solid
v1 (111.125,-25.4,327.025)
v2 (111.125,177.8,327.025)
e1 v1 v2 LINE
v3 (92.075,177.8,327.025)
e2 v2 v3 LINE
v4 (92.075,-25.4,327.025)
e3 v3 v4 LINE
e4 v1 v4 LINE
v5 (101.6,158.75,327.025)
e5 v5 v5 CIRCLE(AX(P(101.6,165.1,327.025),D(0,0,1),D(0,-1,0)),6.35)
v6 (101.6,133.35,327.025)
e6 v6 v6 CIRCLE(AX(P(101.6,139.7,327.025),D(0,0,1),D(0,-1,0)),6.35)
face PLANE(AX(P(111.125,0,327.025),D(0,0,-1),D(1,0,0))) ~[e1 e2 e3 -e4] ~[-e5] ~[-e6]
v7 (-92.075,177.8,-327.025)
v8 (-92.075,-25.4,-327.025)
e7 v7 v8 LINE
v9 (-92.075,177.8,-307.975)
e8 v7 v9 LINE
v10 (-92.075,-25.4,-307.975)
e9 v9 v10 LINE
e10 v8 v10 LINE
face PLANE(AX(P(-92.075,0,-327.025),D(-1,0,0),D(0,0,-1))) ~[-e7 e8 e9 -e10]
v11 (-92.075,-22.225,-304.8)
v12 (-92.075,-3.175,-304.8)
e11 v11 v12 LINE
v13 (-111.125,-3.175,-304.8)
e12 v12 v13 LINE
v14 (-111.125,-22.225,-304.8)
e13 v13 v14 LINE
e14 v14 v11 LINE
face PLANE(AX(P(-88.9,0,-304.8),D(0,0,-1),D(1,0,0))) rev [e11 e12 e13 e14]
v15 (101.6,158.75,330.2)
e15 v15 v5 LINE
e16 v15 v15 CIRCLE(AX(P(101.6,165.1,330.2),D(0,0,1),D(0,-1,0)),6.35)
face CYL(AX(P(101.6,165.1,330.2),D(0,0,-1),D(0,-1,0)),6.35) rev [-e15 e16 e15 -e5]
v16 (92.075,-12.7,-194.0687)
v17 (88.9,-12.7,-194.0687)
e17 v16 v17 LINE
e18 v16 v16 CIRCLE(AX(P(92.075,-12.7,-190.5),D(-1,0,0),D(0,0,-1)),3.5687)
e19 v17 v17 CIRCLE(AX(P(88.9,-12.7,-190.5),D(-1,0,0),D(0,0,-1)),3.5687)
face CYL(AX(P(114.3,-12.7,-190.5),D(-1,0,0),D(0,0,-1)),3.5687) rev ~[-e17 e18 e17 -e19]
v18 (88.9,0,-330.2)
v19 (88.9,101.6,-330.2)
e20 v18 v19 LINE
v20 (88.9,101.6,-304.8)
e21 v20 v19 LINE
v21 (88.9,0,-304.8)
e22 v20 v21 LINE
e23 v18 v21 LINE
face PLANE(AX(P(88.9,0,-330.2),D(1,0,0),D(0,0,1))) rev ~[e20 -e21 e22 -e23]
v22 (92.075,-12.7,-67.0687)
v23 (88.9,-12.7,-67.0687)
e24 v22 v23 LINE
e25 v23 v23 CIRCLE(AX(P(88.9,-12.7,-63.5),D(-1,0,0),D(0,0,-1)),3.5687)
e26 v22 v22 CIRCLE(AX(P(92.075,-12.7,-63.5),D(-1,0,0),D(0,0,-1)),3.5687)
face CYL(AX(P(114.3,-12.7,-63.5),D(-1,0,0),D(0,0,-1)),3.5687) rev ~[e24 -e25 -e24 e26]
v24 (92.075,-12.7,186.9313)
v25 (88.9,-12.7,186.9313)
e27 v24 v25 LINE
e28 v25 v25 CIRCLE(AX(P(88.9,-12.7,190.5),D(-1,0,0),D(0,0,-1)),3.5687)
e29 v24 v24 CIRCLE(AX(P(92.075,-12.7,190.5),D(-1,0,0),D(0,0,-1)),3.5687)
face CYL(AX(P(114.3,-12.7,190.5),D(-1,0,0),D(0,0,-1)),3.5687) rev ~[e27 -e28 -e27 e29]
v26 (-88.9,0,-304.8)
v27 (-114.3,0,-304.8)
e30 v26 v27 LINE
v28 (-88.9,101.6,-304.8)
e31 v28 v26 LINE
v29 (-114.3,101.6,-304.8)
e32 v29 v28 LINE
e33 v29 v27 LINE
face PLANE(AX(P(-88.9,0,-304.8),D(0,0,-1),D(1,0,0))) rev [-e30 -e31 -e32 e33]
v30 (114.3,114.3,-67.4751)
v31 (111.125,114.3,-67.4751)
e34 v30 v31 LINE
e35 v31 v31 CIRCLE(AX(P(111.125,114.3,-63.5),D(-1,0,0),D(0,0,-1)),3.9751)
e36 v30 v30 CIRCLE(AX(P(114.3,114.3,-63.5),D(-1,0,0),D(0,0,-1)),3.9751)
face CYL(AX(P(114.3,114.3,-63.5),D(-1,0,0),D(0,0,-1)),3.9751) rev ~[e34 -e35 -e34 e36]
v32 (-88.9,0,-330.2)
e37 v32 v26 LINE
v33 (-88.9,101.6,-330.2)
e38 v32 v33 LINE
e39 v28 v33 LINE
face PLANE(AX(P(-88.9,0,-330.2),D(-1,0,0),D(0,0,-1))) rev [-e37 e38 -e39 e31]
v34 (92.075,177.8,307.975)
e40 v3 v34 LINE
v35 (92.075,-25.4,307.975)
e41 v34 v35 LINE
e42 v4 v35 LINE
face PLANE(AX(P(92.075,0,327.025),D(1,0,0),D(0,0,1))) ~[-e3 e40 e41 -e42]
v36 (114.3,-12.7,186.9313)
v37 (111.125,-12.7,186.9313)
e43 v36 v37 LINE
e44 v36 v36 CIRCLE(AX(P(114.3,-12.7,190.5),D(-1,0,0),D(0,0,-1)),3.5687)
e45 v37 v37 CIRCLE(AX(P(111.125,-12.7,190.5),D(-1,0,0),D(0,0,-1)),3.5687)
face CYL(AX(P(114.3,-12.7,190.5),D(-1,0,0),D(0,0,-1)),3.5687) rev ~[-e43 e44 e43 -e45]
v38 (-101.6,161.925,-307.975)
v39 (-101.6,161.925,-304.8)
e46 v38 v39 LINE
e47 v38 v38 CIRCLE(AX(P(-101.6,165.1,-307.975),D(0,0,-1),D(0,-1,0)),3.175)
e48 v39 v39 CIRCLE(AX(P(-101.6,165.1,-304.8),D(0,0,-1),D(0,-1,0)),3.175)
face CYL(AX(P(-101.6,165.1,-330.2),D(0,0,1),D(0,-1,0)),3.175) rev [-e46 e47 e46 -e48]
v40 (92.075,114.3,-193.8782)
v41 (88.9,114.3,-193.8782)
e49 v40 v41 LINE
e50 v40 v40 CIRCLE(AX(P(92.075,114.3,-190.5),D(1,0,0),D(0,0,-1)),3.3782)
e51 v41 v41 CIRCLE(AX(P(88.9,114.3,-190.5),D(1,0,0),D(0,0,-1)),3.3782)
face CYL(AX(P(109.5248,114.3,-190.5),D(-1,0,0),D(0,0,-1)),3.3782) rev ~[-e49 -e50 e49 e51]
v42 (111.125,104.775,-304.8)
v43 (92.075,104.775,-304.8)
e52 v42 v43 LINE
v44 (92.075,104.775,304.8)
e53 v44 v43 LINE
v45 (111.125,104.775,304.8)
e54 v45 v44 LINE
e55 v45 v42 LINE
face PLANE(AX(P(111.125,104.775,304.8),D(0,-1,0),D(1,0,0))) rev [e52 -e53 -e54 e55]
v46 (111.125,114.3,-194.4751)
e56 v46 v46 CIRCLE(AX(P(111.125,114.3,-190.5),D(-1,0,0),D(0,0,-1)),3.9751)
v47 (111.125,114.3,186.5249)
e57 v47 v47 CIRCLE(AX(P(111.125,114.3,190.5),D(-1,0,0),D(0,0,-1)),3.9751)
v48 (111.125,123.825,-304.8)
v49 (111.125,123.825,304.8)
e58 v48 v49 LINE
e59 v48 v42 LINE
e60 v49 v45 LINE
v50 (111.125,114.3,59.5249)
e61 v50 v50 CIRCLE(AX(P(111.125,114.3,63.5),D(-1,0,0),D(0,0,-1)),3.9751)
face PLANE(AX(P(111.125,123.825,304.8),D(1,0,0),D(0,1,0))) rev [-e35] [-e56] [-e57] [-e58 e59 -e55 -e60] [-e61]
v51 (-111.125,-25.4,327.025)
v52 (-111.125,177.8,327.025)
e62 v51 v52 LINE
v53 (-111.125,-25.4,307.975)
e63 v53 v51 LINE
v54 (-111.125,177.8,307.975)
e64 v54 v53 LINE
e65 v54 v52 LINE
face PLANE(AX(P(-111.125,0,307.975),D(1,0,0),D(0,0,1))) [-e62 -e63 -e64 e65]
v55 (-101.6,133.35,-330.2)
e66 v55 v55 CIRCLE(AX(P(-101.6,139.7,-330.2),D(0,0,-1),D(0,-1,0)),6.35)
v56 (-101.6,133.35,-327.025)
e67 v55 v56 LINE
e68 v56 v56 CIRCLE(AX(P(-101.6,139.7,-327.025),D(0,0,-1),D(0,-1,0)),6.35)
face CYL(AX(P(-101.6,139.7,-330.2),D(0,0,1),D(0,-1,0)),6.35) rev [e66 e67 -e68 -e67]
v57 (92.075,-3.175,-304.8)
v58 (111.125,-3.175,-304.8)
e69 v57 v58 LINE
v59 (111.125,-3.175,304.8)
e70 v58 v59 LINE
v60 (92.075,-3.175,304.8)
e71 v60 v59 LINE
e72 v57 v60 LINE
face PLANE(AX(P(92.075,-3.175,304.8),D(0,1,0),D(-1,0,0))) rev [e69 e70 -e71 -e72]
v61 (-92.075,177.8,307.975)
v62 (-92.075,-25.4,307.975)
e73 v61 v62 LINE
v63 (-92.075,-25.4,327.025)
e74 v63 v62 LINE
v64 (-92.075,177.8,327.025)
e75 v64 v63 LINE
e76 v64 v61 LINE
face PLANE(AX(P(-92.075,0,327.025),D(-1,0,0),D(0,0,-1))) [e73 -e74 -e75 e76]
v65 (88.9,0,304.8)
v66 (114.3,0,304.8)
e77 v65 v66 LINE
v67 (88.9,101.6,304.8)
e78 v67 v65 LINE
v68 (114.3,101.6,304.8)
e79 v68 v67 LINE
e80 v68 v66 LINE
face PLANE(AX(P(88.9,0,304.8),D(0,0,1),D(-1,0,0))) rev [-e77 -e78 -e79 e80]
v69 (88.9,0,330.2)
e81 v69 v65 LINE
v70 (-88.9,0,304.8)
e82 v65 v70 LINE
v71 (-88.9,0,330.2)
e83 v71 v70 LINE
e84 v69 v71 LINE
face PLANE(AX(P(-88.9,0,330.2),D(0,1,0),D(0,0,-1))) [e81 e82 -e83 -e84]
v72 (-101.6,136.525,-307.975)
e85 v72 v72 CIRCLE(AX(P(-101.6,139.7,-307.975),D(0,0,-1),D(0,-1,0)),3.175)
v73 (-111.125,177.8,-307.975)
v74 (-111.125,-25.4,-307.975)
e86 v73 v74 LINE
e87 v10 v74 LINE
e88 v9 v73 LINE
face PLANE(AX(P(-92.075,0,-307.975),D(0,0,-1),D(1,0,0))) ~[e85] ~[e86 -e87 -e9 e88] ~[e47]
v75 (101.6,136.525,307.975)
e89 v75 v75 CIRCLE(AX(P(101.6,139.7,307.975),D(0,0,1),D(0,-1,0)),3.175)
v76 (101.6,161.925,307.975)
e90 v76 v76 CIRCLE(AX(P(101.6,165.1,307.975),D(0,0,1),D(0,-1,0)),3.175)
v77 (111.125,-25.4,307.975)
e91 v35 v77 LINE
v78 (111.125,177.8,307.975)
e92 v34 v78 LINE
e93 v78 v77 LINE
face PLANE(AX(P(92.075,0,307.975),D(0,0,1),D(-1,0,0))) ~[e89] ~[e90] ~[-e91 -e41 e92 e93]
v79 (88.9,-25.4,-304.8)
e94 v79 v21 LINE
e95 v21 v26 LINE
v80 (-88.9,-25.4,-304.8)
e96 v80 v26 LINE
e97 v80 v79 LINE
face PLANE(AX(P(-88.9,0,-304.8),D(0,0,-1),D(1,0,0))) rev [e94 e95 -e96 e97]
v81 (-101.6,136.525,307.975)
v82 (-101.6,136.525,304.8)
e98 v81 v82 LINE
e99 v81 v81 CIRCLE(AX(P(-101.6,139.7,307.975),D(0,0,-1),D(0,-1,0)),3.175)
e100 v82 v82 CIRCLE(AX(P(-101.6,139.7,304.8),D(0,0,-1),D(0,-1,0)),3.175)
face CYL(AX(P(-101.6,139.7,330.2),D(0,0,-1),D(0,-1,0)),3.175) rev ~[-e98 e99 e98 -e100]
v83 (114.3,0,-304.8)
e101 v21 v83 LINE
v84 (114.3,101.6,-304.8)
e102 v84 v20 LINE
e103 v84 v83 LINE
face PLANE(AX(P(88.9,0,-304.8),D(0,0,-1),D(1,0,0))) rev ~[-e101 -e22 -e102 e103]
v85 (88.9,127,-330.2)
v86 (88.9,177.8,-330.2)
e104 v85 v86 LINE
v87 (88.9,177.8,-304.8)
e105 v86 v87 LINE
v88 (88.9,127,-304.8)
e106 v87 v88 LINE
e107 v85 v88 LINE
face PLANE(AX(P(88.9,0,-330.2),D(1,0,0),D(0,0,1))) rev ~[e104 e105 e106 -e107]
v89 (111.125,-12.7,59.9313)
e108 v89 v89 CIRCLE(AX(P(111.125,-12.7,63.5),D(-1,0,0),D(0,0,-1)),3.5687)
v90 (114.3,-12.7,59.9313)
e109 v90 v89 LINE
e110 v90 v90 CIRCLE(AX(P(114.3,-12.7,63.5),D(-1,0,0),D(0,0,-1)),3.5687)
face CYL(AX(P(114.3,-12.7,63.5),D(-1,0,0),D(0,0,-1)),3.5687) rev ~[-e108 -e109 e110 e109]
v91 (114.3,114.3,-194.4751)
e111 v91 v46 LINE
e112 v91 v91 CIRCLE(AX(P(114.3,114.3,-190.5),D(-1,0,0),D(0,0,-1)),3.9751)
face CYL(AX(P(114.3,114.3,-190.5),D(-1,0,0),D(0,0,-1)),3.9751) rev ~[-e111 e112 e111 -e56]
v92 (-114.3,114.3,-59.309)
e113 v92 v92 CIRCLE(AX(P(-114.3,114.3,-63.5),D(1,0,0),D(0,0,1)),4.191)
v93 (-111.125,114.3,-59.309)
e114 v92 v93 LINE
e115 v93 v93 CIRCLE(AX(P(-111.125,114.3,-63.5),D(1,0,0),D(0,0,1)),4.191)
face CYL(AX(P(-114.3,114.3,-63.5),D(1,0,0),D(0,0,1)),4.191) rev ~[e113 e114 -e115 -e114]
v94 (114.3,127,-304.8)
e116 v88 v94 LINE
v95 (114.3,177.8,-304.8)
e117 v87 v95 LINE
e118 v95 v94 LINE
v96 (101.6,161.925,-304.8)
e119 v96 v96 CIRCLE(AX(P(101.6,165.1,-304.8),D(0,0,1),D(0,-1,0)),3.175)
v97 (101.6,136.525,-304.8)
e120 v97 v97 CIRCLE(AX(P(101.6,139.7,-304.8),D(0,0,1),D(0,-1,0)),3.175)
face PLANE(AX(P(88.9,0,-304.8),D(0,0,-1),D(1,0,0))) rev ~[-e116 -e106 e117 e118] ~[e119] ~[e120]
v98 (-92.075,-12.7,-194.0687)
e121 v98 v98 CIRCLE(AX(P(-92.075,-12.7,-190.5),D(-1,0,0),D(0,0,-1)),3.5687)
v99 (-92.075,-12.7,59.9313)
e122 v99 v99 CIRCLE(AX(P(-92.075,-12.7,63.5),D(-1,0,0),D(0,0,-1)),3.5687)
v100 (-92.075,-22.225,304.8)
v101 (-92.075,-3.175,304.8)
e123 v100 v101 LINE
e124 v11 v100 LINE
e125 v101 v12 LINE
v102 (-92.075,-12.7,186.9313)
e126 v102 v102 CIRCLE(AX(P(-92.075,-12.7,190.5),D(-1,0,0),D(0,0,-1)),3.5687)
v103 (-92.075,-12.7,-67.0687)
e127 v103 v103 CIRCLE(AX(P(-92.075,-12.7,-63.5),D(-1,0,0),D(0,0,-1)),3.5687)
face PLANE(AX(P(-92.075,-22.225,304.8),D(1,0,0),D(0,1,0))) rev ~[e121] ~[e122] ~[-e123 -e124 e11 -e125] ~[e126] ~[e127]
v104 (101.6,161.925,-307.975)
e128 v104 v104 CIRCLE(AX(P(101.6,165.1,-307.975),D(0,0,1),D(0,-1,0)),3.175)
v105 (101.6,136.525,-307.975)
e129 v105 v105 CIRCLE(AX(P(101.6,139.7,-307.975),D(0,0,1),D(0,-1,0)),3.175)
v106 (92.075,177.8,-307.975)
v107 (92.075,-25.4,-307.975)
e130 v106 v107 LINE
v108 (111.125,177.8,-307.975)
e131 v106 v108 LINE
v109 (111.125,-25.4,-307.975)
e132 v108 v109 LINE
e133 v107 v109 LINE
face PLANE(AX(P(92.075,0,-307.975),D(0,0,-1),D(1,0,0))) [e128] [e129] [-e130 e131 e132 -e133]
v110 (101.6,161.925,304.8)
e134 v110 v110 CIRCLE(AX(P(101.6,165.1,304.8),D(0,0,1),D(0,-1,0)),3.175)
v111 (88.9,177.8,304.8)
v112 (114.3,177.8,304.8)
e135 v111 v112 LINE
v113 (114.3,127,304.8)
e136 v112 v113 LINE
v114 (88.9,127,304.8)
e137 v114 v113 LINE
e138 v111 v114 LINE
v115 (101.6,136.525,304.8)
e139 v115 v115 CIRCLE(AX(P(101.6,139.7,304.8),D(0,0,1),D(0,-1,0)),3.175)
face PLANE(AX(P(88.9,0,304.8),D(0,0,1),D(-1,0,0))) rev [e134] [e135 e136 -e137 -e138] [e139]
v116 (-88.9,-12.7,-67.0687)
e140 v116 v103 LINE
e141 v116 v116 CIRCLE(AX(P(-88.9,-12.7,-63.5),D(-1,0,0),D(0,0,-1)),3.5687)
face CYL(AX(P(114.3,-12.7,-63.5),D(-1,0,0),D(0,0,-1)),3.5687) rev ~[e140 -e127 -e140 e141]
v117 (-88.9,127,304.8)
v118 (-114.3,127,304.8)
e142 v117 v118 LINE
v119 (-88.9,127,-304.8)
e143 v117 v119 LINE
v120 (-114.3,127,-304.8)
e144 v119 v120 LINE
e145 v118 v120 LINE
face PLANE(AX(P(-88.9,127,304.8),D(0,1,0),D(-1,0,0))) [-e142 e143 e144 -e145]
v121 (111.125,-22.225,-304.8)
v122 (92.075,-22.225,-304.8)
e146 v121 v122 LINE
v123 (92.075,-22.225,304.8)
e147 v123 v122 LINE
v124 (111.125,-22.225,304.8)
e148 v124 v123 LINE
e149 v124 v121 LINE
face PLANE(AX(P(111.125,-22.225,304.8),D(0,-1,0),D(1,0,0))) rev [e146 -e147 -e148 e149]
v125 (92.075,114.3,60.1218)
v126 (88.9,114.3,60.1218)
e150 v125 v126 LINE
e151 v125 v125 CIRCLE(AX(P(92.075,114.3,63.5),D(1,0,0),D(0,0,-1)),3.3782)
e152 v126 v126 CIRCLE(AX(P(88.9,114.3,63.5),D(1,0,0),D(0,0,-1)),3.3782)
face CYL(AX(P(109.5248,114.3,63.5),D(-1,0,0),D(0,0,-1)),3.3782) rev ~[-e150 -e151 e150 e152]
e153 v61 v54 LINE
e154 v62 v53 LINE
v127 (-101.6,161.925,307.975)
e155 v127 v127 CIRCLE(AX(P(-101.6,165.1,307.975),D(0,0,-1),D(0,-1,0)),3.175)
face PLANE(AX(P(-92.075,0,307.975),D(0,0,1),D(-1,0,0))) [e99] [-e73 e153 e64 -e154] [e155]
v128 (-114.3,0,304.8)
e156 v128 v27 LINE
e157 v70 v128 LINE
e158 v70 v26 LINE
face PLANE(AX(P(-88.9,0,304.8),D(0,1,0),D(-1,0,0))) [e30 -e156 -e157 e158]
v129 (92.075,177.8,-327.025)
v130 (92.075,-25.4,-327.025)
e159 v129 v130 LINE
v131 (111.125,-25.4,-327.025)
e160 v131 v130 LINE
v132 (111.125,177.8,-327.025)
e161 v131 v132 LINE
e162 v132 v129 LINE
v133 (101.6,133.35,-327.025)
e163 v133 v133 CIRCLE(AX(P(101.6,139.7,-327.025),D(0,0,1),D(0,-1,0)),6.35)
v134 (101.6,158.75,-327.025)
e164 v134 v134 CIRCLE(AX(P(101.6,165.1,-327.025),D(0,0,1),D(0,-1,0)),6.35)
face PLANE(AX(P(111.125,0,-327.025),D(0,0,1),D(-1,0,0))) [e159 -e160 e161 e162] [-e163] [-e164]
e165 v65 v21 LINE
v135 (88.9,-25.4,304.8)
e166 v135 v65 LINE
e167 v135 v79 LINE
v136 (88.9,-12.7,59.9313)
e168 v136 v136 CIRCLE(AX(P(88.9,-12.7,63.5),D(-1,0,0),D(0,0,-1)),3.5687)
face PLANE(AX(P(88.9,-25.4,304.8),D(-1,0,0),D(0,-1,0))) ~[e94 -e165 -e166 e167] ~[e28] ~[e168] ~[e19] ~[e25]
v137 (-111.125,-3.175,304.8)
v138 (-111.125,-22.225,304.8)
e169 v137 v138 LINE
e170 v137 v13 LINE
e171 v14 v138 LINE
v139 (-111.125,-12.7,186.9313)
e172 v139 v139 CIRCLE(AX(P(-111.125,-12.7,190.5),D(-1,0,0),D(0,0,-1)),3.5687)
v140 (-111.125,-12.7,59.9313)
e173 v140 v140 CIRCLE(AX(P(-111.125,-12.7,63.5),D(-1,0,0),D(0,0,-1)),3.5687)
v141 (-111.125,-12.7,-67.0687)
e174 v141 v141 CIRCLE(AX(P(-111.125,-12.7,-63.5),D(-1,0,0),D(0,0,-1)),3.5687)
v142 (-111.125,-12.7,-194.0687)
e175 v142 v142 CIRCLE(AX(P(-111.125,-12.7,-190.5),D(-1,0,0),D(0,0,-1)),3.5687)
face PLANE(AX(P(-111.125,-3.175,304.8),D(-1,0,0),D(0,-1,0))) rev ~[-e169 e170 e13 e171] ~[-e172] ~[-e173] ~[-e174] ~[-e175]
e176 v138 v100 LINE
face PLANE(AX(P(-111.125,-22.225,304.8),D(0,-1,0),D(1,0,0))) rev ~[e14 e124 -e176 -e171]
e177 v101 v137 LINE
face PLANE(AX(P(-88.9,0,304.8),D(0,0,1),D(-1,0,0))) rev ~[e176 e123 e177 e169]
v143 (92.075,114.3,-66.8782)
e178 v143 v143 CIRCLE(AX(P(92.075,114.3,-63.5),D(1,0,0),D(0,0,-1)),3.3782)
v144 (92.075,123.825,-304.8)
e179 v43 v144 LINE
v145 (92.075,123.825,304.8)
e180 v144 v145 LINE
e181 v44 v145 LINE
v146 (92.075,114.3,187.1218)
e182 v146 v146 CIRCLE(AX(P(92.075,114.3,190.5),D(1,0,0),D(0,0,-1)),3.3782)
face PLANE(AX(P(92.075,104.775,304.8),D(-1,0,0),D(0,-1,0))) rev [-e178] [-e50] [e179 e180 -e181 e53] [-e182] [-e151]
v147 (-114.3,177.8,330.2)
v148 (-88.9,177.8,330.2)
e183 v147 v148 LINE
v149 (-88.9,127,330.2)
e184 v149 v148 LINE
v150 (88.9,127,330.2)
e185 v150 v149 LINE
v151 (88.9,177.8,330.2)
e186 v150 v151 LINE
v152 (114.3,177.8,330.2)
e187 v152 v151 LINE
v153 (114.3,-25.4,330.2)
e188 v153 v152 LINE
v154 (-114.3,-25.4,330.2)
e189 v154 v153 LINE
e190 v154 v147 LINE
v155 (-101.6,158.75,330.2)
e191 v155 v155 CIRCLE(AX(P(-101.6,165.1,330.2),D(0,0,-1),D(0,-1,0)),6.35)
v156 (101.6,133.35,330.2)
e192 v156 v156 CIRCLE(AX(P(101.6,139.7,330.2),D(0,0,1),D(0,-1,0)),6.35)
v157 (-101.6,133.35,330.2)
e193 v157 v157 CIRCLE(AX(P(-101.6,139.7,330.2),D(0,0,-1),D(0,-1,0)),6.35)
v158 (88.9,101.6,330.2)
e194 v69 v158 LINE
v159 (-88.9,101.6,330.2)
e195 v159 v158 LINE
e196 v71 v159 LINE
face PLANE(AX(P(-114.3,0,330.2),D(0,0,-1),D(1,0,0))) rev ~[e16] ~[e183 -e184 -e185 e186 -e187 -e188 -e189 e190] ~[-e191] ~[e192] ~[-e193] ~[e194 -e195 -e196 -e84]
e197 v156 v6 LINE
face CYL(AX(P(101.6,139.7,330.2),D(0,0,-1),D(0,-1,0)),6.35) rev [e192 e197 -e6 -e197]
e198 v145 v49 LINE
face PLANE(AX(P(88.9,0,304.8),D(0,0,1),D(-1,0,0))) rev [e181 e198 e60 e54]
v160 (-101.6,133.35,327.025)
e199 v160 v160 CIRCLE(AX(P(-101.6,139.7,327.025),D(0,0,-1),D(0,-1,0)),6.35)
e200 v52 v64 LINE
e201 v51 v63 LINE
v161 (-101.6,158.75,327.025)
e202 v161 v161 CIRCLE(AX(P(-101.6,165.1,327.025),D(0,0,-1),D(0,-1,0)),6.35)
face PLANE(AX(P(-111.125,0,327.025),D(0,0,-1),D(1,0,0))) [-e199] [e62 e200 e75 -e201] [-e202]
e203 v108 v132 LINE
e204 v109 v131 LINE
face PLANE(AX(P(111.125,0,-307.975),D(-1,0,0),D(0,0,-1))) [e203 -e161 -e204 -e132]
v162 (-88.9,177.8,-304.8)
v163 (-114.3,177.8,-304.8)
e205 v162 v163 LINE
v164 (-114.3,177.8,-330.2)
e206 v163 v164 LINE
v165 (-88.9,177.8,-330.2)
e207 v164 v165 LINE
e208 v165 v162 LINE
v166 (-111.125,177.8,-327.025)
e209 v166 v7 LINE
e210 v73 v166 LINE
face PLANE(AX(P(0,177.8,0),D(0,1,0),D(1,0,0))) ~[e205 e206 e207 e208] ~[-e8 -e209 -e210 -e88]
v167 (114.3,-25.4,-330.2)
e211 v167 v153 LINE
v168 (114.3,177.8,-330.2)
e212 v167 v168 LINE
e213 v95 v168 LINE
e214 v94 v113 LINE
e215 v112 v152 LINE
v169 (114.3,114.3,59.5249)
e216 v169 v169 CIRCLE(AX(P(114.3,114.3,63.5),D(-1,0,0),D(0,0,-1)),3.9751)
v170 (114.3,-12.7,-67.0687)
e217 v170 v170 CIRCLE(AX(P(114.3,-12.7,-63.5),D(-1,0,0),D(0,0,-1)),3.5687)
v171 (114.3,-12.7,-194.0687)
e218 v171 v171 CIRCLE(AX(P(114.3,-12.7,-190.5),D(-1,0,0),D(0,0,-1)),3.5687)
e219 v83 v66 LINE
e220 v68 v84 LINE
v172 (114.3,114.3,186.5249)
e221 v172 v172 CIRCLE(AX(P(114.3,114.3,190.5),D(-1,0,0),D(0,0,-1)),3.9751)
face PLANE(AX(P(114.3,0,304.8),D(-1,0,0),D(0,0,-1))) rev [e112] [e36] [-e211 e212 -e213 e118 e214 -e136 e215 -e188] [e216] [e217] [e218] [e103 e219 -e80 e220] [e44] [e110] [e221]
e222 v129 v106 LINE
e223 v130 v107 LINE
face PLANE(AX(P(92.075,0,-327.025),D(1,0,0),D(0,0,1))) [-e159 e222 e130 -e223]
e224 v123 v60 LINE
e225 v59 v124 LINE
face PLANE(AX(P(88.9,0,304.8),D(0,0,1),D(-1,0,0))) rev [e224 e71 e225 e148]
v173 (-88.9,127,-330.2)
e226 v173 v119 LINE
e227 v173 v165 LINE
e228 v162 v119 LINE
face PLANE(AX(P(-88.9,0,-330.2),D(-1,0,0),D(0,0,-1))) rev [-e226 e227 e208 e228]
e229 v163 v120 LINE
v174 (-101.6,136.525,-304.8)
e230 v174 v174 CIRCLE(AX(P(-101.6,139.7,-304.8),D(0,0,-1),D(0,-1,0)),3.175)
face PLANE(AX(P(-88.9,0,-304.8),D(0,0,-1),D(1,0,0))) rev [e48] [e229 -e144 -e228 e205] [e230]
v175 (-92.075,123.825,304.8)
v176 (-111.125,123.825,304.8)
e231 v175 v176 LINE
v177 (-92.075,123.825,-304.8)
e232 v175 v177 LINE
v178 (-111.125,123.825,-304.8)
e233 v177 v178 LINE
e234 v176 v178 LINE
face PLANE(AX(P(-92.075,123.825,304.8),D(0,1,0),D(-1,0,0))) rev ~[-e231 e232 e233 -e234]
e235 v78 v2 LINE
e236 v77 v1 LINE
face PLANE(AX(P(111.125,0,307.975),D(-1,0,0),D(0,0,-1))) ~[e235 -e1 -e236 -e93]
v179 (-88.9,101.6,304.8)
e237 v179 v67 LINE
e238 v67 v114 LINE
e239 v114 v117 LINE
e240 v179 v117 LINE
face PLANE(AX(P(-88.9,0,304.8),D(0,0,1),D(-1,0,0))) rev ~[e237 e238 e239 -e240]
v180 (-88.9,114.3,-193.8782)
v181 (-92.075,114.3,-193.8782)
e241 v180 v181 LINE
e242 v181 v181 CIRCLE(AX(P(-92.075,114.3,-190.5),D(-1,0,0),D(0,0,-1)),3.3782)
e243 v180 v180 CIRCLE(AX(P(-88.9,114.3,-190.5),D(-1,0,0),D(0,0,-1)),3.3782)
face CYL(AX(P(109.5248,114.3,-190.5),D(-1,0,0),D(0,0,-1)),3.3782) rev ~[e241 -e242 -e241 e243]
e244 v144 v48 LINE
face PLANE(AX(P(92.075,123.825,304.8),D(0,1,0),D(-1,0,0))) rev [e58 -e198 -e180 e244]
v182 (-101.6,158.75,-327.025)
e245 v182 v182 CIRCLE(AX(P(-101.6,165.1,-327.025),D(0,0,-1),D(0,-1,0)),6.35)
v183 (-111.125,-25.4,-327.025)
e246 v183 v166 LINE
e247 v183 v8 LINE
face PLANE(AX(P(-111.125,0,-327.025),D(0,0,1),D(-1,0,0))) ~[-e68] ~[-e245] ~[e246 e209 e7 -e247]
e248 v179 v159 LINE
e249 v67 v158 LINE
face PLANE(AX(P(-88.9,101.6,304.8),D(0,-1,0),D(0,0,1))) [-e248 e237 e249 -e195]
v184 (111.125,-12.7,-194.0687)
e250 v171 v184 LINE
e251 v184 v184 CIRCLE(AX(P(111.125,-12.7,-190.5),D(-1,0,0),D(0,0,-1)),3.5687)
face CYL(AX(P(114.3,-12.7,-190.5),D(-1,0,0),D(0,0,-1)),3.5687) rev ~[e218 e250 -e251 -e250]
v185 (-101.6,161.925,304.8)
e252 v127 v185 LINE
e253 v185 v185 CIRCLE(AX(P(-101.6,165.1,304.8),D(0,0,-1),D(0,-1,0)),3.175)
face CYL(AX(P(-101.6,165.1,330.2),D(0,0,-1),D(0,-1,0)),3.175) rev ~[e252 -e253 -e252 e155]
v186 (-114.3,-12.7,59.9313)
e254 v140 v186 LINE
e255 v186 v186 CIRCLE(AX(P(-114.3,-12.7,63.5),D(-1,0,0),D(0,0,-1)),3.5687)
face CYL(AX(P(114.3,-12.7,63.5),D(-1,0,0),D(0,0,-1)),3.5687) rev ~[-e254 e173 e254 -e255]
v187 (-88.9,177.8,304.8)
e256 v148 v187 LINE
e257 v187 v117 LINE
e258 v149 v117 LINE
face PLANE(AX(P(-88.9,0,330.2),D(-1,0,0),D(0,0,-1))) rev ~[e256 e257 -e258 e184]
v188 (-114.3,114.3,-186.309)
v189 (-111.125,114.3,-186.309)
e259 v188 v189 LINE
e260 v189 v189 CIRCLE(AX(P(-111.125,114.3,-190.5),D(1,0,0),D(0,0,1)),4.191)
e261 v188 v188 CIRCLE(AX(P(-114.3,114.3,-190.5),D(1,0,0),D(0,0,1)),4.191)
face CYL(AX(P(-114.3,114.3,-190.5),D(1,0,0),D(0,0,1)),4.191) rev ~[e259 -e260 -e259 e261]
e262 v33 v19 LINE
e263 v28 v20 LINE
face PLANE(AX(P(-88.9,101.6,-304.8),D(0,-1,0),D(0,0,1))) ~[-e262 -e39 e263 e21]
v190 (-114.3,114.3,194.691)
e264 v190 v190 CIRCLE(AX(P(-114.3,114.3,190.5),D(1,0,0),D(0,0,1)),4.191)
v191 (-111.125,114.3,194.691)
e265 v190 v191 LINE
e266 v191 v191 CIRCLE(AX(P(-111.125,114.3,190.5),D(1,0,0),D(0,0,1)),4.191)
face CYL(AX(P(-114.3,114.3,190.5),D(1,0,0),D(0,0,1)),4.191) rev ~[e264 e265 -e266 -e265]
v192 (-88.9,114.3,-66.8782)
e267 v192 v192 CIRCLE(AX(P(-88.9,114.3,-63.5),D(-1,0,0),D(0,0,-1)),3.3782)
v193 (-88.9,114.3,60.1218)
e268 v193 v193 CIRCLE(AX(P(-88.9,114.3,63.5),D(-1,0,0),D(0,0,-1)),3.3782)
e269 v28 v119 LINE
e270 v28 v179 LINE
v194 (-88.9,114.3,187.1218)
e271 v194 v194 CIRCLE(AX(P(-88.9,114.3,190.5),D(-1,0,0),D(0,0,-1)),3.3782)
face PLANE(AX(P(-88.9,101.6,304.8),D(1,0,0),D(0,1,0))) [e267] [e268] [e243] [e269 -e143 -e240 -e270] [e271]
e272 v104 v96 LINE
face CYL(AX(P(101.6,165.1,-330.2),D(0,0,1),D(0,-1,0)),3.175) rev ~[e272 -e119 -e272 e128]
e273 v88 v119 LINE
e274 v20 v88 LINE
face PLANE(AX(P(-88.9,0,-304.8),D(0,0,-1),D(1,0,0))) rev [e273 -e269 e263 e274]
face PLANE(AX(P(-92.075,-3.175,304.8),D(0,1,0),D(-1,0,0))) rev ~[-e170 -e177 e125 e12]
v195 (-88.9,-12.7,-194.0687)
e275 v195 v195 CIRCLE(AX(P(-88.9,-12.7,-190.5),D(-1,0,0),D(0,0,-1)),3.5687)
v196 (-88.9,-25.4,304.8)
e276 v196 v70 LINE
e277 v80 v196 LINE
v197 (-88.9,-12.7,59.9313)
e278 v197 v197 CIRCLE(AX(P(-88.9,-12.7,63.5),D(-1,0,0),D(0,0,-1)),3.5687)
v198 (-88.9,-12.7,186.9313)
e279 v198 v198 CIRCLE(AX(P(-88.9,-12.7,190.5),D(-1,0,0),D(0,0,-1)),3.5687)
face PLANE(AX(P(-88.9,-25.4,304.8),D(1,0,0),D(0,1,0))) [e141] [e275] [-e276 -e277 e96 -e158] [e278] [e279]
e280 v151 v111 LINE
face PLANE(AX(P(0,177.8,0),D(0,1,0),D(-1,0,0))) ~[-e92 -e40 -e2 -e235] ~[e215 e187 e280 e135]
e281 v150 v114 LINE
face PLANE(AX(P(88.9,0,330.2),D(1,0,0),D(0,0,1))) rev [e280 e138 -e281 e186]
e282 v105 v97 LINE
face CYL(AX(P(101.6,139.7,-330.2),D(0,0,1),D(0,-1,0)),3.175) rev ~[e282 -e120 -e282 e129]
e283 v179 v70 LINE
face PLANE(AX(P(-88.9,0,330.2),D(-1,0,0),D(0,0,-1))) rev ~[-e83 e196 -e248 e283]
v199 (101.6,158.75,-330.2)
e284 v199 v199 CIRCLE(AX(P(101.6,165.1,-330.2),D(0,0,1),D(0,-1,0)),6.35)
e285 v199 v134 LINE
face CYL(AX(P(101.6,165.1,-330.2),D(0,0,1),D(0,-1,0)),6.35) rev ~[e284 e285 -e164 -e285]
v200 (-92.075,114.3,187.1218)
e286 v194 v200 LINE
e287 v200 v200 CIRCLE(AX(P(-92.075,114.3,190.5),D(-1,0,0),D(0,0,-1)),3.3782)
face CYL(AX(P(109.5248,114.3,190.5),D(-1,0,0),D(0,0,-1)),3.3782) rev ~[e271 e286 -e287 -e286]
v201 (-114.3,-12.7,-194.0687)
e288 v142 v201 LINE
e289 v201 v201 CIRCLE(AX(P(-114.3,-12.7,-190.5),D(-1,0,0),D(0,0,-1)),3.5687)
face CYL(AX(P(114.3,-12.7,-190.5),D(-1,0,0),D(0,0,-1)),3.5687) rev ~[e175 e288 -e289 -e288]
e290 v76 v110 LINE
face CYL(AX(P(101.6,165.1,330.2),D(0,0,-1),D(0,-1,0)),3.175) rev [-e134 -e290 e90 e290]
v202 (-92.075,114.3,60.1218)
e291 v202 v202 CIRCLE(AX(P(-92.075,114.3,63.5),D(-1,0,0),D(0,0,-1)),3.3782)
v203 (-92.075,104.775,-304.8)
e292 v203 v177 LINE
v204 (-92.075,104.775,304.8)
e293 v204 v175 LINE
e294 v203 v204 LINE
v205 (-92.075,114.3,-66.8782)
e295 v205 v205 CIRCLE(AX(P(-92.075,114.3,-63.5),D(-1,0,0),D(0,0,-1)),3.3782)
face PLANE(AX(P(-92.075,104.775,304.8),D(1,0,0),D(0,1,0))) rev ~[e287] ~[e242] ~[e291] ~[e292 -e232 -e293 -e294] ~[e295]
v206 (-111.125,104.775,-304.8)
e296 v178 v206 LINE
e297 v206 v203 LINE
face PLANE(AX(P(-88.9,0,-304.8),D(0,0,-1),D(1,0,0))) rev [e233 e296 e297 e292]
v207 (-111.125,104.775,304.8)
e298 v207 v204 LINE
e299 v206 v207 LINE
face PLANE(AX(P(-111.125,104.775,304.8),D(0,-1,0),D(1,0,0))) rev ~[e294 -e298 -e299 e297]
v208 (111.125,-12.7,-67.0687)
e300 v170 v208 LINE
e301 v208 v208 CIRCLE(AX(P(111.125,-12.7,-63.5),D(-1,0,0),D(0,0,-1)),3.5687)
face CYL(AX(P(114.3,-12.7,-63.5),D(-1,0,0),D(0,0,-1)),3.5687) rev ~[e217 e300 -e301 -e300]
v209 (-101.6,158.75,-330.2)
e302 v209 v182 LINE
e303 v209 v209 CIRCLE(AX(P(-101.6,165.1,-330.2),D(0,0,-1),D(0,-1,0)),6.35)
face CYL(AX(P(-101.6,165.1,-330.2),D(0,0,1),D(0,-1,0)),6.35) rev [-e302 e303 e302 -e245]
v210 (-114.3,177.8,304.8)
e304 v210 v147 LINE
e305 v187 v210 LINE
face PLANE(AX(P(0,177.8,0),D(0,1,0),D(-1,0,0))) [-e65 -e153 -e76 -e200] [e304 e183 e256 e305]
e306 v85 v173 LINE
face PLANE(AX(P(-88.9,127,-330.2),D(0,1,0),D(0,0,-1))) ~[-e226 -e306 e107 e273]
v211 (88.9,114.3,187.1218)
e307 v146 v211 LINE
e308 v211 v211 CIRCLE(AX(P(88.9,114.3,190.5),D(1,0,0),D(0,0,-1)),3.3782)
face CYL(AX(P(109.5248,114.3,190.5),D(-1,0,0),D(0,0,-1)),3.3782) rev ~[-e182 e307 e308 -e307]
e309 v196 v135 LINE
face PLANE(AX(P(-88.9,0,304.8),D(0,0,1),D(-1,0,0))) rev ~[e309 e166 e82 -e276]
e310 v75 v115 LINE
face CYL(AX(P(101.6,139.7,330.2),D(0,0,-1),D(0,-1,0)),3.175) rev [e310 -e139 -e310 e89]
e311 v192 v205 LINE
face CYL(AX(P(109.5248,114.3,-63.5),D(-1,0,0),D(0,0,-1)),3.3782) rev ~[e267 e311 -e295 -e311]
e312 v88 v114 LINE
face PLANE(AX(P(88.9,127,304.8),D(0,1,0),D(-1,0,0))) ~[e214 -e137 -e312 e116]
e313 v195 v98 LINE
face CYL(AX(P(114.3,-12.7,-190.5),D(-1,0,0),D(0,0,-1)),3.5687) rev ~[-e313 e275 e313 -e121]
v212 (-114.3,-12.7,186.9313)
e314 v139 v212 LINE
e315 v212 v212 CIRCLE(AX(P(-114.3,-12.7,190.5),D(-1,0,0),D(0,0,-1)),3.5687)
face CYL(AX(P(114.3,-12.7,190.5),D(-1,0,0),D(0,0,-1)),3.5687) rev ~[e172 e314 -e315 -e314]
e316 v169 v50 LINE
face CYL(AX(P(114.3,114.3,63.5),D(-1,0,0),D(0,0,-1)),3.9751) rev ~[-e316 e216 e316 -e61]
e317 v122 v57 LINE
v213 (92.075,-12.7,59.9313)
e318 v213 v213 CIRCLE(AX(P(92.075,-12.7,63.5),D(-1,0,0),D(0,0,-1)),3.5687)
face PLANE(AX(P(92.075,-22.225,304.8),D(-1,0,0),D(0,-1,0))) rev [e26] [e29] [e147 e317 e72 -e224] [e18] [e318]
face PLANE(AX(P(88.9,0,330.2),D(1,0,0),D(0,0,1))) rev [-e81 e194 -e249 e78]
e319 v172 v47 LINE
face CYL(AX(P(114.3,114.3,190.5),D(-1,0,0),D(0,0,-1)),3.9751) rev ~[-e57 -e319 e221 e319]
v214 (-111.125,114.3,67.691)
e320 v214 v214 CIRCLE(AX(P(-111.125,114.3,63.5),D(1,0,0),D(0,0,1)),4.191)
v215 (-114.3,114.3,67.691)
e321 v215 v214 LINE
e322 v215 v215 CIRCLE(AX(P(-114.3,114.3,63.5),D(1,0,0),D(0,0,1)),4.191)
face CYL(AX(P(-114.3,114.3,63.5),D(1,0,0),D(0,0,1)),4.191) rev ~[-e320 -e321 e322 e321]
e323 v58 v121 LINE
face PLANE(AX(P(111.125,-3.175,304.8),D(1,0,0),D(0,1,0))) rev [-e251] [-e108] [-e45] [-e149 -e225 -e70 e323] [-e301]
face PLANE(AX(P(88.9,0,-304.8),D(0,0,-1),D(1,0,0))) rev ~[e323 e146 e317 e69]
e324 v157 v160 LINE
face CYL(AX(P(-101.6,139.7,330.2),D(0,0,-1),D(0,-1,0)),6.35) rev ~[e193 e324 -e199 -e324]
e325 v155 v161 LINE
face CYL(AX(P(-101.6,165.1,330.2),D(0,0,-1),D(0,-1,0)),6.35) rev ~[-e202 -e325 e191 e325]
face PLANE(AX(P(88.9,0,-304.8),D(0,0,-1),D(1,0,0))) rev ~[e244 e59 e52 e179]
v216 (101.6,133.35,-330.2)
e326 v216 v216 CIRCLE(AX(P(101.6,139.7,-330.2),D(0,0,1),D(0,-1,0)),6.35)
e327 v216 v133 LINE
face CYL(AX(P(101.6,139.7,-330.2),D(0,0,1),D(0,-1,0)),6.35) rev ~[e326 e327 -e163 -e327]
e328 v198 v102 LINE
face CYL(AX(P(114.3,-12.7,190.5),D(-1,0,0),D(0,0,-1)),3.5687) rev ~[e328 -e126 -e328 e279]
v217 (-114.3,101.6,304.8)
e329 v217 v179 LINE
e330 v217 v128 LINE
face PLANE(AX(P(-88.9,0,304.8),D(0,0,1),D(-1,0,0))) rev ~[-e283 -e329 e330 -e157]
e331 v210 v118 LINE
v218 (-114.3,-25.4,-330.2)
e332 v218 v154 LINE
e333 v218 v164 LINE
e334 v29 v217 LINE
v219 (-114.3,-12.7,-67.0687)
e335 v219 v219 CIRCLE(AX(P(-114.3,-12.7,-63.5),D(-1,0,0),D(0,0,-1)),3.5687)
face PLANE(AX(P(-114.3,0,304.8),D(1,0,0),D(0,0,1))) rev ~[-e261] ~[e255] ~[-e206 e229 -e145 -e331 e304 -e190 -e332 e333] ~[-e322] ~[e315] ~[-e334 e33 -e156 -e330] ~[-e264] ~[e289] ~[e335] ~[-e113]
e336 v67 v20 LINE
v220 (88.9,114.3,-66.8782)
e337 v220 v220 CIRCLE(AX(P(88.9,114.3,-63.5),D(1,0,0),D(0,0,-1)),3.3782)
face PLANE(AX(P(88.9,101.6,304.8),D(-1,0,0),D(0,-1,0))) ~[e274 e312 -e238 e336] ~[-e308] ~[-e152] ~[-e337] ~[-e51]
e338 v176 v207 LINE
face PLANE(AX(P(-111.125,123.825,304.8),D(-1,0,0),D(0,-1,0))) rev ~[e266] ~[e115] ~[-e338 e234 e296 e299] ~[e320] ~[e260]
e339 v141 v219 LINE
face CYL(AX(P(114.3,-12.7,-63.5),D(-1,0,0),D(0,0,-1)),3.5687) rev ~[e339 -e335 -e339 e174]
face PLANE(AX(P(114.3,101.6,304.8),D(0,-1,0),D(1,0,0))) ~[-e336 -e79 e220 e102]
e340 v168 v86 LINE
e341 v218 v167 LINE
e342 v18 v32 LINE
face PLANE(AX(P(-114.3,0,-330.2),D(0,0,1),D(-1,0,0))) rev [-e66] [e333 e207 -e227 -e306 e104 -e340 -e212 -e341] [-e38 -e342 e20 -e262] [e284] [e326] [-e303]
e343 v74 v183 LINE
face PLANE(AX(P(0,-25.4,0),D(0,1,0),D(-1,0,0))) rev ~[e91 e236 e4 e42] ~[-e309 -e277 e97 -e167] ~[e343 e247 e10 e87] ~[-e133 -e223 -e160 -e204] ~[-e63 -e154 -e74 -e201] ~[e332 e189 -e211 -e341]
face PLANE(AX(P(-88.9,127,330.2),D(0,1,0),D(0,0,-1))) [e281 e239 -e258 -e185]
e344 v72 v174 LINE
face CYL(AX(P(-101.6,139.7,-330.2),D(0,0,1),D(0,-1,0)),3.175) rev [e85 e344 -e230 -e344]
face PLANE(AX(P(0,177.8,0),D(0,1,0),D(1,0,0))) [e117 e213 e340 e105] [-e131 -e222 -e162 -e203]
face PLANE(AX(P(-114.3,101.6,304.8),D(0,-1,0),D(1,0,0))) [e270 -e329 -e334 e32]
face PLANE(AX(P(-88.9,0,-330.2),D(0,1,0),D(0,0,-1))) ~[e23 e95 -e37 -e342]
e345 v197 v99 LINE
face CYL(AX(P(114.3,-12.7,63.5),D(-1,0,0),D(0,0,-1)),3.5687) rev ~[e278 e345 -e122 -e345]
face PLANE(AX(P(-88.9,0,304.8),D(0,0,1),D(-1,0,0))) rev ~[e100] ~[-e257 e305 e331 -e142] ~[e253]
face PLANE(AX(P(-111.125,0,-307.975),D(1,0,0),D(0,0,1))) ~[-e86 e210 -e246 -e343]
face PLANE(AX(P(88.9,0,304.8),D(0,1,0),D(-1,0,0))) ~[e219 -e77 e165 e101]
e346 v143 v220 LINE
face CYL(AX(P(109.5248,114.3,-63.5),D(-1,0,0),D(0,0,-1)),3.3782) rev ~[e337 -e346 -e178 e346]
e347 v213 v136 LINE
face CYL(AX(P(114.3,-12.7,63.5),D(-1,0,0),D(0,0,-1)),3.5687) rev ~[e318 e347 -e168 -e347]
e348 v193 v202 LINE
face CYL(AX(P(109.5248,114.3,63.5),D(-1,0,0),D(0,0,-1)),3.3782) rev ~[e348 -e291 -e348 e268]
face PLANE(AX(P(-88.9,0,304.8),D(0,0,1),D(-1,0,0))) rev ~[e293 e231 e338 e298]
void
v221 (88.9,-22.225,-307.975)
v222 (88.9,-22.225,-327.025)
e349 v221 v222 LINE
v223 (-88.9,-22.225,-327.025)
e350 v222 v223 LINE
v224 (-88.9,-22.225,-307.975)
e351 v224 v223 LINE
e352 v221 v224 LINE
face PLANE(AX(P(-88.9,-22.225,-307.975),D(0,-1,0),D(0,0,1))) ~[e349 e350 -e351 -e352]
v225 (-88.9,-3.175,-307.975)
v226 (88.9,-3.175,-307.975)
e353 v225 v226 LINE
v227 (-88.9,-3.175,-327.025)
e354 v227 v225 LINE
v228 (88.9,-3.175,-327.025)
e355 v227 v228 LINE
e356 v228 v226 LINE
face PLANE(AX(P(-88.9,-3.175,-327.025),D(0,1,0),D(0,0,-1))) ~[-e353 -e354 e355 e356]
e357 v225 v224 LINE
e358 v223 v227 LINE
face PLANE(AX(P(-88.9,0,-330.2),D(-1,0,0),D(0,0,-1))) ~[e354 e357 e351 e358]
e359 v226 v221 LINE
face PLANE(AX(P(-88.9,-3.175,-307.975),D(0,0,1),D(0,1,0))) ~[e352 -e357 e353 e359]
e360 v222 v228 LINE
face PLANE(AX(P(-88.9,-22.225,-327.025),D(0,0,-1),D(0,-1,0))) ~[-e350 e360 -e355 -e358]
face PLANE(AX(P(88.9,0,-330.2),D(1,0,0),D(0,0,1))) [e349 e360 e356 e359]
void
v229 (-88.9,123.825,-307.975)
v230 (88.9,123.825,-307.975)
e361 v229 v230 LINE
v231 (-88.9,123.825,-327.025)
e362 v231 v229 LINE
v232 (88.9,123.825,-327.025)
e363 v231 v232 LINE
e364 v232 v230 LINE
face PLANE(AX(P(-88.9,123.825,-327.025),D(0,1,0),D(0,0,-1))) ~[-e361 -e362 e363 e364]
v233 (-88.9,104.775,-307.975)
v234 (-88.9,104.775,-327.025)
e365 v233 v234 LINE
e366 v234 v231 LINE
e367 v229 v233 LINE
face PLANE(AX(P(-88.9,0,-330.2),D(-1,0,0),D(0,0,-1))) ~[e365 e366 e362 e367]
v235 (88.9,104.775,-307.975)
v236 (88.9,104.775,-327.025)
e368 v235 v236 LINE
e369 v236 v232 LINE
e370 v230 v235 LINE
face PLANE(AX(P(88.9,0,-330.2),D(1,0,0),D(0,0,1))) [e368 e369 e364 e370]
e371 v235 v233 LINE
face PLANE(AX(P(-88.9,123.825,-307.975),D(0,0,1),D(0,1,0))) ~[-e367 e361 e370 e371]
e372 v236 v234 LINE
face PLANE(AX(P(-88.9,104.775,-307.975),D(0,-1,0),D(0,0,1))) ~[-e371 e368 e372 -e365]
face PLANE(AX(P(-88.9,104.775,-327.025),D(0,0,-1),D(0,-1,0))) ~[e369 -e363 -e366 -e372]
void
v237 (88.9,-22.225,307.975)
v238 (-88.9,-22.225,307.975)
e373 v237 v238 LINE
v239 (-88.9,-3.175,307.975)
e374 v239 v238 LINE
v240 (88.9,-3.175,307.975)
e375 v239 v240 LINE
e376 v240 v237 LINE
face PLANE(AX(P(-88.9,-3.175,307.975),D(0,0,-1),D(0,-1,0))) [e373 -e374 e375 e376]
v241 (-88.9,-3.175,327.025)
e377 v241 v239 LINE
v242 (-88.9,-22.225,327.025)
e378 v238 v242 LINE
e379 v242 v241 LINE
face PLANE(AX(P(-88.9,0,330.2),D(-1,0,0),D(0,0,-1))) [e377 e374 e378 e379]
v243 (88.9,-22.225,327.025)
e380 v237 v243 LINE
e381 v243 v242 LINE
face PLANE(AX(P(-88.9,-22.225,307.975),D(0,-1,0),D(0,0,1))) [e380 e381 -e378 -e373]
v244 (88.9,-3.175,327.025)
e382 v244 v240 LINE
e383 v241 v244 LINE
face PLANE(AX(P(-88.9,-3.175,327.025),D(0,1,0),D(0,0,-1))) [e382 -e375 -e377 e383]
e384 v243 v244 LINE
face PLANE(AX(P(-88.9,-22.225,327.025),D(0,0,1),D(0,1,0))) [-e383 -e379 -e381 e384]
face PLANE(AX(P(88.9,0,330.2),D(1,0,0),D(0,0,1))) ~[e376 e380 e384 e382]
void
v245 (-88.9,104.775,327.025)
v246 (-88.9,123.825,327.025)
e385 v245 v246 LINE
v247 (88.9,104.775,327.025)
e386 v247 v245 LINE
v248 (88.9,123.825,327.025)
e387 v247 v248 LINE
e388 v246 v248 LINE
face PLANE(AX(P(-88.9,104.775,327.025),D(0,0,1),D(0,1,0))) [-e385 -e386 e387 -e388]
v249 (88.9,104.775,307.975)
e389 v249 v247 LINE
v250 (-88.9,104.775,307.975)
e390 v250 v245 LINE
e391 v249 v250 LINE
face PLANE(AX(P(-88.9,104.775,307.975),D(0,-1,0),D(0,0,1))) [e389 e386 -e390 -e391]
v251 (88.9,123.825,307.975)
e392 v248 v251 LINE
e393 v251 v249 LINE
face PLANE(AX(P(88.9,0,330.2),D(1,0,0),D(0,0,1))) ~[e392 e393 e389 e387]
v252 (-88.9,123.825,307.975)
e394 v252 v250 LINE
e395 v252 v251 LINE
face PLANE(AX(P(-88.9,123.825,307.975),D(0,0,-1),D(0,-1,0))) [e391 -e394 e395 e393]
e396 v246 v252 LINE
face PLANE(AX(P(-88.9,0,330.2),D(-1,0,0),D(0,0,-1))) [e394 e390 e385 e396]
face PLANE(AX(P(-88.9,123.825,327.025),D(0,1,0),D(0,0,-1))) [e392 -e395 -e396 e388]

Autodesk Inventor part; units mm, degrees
ref_plane "YZ Plane" through (0, 0, 0) normal (1, 0, 0) x (0, 1, 0)
ref_plane "XZ Plane" through (0, 0, 0) normal (0, 1, 0) x (-1, 0, 0)
ref_plane "XY Plane" through (0, 0, 0) normal (0, 0, 1) x (1, 0, 0)
sketch "Sketch1" plane through (0, 0, 0) normal (0, 1, 0) x (-1, 0, 0)
  line L0 (114.3, 330.2) -> (88.9, 330.2)
  line L1 (88.9, 330.2) -> (88.9, 304.8)
  line L2 (88.9, 304.8) -> (114.3, 304.8)
  line L3 (114.3, 304.8) -> (114.3, 330.2)
  line L4 (114.3, 330.2) -> (88.9, 304.8) construction
  line L5 (88.9, 330.2) -> (114.3, 304.8) construction
  line L6 (111.125, 327.025) -> (92.075, 327.025)
  line L7 (92.075, 327.025) -> (92.075, 307.975)
  line L8 (92.075, 307.975) -> (111.125, 307.975)
  line L9 (111.125, 307.975) -> (111.125, 327.025)
  line L10 (111.125, 327.025) -> (92.075, 307.975) construction
  line L11 (92.075, 327.025) -> (111.125, 307.975) construction
  point P0 (0, 0)
  point P1 (101.6, 317.5)
  point P2 (101.6, 317.5)
  dimension "d0" = 25.4
  dimension "d1" = 3.175
  dimension "d2" = 304.8
  dimension "d3" = 88.9
extrude "Extrusion1" add sketch "Sketch1" along normal blind 177.8 and the other way blind 25.4
sketch "Sketch2" plane through (-88.9, -25.4, 304.8) normal (1, 0, 0) x (0, 0, -1)
  line L0 (-25.4, 25.4) -> (0, 25.4)
  line L1 (0, 25.4) -> (0, 0)
  line L2 (0, 0) -> (-25.4, 0)
  line L3 (-25.4, 0) -> (-25.4, 25.4)
  line L4 (-25.4, 25.4) -> (0, 0) construction
  line L5 (0, 25.4) -> (-25.4, 0) construction
  line L6 (-22.225, 22.225) -> (-3.175, 22.225)
  line L7 (-3.175, 22.225) -> (-3.175, 3.175)
  line L8 (-3.175, 3.175) -> (-22.225, 3.175)
  line L9 (-22.225, 3.175) -> (-22.225, 22.225)
  line L10 (-22.225, 22.225) -> (-3.175, 3.175) construction
  line L11 (-3.175, 22.225) -> (-22.225, 3.175) construction
  line L12 (-25.4, 152.4) -> (0, 152.4)
  line L13 (0, 152.4) -> (0, 127)
  line L14 (0, 127) -> (-25.4, 127)
  line L15 (-25.4, 127) -> (-25.4, 152.4)
  line L16 (-25.4, 152.4) -> (0, 127) construction
  line L17 (0, 152.4) -> (-25.4, 127) construction
  line L18 (-22.225, 149.225) -> (-3.175, 149.225)
  line L19 (-3.175, 149.225) -> (-3.175, 130.175)
  line L20 (-3.175, 130.175) -> (-22.225, 130.175)
  line L21 (-22.225, 130.175) -> (-22.225, 149.225)
  line L22 (-22.225, 149.225) -> (-3.175, 130.175) construction
  line L23 (-3.175, 149.225) -> (-22.225, 130.175) construction
  point P0 (304.8, 25.4)
  point P1 (-12.7, 12.7)
  point P2 (-12.7, 12.7)
  point P3 (-12.7, 139.7)
  dimension "d8" = 25.4
  dimension "d9" = 3.175
  dimension "d10" = 101.6
extrude "Extrusion2" add sketch "Sketch2" along normal blind 88.9
sketch "Sketch3" plane through (-88.9, 177.8, 304.8) normal (0, 0, -1) x (-1, 0, 0)
  line L0 (0, -50.8) -> (25.4, -50.8)
  line L1 (25.4, -50.8) -> (25.4, -76.2)
  line L2 (25.4, -76.2) -> (0, -76.2)
  line L3 (0, -76.2) -> (0, -50.8)
  line L4 (0, -50.8) -> (25.4, -76.2) construction
  line L5 (25.4, -50.8) -> (0, -76.2) construction
  line L6 (3.175, -53.975) -> (22.225, -53.975)
  line L7 (22.225, -53.975) -> (22.225, -73.025)
  line L8 (22.225, -73.025) -> (3.175, -73.025)
  line L9 (3.175, -73.025) -> (3.175, -53.975)
  line L10 (3.175, -53.975) -> (22.225, -73.025) construction
  line L11 (22.225, -53.975) -> (3.175, -73.025) construction
  line L12 (0, -177.8) -> (25.4, -177.8)
  line L13 (25.4, -177.8) -> (25.4, -203.2)
  line L14 (25.4, -203.2) -> (0, -203.2)
  line L15 (0, -203.2) -> (0, -177.8)
  line L16 (0, -177.8) -> (25.4, -203.2) construction
  line L17 (25.4, -177.8) -> (0, -203.2) construction
  line L18 (3.175, -180.975) -> (22.225, -180.975)
  line L19 (22.225, -180.975) -> (22.225, -200.025)
  line L20 (22.225, -200.025) -> (3.175, -200.025)
  line L21 (3.175, -200.025) -> (3.175, -180.975)
  line L22 (3.175, -180.975) -> (22.225, -200.025) construction
  line L23 (22.225, -180.975) -> (3.175, -200.025) construction
  point P0 (-88.9, -177.8)
  point P1 (12.7, -63.5)
  point P2 (12.7, -63.5)
  point P3 (12.7, -190.5)
  point P4 (12.7, -190.5)
  point P5 (22.225, -63.5)
  point P6 (25.4, -203.2)
  dimension "d13" = 25.4
  dimension "d14" = 3.175
extrude "Extrusion3" add sketch "Sketch3" along normal blind 304.8
sketch "Sketch4" plane through (-114.3, 177.8, 330.2) normal (0, 0, 1) x (1, 0, 0)
  line L0 (0, 0) -> (25.4, 0) projected
  line L1 (25.4, 0) -> (25.4, -50.8) projected
  point P0 (114.3, -177.8)
  point P1 (12.7, -12.7)
  dimension "d17" = 12.7
  dimension "d18" = 12.7
hole "Hole1" at (-101.6, 165.1, 330.2) direction (0, 0, -1) diameter 6.35 end through all
sketch "Sketch5" plane through (-114.3, 177.8, 330.2) normal (0, 0, 1) x (1, 0, 0)
  line L0 (25.4, 0) -> (25.4, -50.8) projected
  line L1 (0, 0) -> (25.4, 0) projected
  point P0 (114.3, -177.8)
  point P1 (12.7, -38.1)
  dimension "d26" = 12.7
  dimension "d27" = 38.1
hole "Hole2" at (-101.6, 139.7, 330.2) direction (0, 0, -1) diameter 6.35 end through all
sketch "Sketch6" plane through (-114.3, 177.8, 330.2) normal (0, 0, 1) x (1, 0, 0)
  circle A0 centre (12.7, -38.1) radius 3.175 projected
  point P0 (114.3, -177.8)
hole "Hole3" at (-101.6, 139.7, 330.2) direction (0, 0, -1) diameter 12.7 depth 12.7 tip angle 118
sketch "Sketch7" plane through (-114.3, 177.8, 330.2) normal (0, 0, 1) x (1, 0, 0)
  circle A0 centre (12.7, -12.7) radius 3.175 projected
  point P0 (114.3, -177.8)
hole "Hole4" at (-101.6, 165.1, 330.2) direction (0, 0, -1) diameter 12.7 depth 12.7 tip angle 118
mirror "Mirror1" about plane through (0, 0, 0) normal (1, 0, 0)
mirror "Mirror2" about plane through (0, 0, 0) normal (0, 0, 1)
sketch "Sketch8" plane through (0, -25.4, 0) normal (0, -1, 0) x (1, 0, 0)
  circle A0 centre (0, 0) radius 500
  dimension "d49" = 1000
sketch "Sketch9" plane through (114.3, -25.4, 330.2) normal (1, 0, 0) x (0, 0, -1)
  line L0 (0, 0) -> (0, 203.2) projected
  line L1 (0, 0) -> (660.4, 0) projected
  point P0 (330.2, 25.4)
  point P1 (139.7, 12.7)
  dimension "d50" = 139.7
  dimension "d51" = 12.7
hole "Hole5" at (114.3, -12.7, 190.5) direction (-1, 0, 0) diameter 7.1374 end through all clearance for "Flat Head Machine Screw (82)" size "1/4" standard "Ansi Unified Screw Threads"
sketch "Sketch10" plane through (114.3, -25.4, 330.2) normal (1, 0, 0) x (0, 0, -1)
  line L0 (25.4, 152.4) -> (635, 152.4) projected
  line L1 (0, 0) -> (0, 203.2) projected
  point P0 (330.2, 25.4)
  point P1 (139.7, 139.7)
  dimension "d59" = 12.7
  dimension "d60" = 139.7
hole "Hole6" at (114.3, 114.3, 190.5) direction (-1, 0, 0) diameter 6.7564 end through all counterbore diameter 7.9502 counterbore depth 4.7752 clearance for "Hex Head Bolt" size "1/4" standard "Ansi Unified Screw Threads"
sketch "Sketch11" plane through (-114.3, -25.4, 330.2) normal (-1, 0, 0) x (0, 0, 1)
  circle A0 centre (-139.7, 139.7) radius 3.3782 projected
  point P0 (-330.2, 25.4)
hole "Hole7" at (-114.3, 114.3, 190.5) direction (1, 0, 0) diameter 6.7564 end through all counterbore diameter 8.382 counterbore depth 4.7752
pattern_linear "Rectangular Pattern1" count 4 spacing 127 along (0, 0, -1) of "Hole5", "Hole6", "Hole7"
properties part number "Placeholder_ChassisMain" material "Air"
